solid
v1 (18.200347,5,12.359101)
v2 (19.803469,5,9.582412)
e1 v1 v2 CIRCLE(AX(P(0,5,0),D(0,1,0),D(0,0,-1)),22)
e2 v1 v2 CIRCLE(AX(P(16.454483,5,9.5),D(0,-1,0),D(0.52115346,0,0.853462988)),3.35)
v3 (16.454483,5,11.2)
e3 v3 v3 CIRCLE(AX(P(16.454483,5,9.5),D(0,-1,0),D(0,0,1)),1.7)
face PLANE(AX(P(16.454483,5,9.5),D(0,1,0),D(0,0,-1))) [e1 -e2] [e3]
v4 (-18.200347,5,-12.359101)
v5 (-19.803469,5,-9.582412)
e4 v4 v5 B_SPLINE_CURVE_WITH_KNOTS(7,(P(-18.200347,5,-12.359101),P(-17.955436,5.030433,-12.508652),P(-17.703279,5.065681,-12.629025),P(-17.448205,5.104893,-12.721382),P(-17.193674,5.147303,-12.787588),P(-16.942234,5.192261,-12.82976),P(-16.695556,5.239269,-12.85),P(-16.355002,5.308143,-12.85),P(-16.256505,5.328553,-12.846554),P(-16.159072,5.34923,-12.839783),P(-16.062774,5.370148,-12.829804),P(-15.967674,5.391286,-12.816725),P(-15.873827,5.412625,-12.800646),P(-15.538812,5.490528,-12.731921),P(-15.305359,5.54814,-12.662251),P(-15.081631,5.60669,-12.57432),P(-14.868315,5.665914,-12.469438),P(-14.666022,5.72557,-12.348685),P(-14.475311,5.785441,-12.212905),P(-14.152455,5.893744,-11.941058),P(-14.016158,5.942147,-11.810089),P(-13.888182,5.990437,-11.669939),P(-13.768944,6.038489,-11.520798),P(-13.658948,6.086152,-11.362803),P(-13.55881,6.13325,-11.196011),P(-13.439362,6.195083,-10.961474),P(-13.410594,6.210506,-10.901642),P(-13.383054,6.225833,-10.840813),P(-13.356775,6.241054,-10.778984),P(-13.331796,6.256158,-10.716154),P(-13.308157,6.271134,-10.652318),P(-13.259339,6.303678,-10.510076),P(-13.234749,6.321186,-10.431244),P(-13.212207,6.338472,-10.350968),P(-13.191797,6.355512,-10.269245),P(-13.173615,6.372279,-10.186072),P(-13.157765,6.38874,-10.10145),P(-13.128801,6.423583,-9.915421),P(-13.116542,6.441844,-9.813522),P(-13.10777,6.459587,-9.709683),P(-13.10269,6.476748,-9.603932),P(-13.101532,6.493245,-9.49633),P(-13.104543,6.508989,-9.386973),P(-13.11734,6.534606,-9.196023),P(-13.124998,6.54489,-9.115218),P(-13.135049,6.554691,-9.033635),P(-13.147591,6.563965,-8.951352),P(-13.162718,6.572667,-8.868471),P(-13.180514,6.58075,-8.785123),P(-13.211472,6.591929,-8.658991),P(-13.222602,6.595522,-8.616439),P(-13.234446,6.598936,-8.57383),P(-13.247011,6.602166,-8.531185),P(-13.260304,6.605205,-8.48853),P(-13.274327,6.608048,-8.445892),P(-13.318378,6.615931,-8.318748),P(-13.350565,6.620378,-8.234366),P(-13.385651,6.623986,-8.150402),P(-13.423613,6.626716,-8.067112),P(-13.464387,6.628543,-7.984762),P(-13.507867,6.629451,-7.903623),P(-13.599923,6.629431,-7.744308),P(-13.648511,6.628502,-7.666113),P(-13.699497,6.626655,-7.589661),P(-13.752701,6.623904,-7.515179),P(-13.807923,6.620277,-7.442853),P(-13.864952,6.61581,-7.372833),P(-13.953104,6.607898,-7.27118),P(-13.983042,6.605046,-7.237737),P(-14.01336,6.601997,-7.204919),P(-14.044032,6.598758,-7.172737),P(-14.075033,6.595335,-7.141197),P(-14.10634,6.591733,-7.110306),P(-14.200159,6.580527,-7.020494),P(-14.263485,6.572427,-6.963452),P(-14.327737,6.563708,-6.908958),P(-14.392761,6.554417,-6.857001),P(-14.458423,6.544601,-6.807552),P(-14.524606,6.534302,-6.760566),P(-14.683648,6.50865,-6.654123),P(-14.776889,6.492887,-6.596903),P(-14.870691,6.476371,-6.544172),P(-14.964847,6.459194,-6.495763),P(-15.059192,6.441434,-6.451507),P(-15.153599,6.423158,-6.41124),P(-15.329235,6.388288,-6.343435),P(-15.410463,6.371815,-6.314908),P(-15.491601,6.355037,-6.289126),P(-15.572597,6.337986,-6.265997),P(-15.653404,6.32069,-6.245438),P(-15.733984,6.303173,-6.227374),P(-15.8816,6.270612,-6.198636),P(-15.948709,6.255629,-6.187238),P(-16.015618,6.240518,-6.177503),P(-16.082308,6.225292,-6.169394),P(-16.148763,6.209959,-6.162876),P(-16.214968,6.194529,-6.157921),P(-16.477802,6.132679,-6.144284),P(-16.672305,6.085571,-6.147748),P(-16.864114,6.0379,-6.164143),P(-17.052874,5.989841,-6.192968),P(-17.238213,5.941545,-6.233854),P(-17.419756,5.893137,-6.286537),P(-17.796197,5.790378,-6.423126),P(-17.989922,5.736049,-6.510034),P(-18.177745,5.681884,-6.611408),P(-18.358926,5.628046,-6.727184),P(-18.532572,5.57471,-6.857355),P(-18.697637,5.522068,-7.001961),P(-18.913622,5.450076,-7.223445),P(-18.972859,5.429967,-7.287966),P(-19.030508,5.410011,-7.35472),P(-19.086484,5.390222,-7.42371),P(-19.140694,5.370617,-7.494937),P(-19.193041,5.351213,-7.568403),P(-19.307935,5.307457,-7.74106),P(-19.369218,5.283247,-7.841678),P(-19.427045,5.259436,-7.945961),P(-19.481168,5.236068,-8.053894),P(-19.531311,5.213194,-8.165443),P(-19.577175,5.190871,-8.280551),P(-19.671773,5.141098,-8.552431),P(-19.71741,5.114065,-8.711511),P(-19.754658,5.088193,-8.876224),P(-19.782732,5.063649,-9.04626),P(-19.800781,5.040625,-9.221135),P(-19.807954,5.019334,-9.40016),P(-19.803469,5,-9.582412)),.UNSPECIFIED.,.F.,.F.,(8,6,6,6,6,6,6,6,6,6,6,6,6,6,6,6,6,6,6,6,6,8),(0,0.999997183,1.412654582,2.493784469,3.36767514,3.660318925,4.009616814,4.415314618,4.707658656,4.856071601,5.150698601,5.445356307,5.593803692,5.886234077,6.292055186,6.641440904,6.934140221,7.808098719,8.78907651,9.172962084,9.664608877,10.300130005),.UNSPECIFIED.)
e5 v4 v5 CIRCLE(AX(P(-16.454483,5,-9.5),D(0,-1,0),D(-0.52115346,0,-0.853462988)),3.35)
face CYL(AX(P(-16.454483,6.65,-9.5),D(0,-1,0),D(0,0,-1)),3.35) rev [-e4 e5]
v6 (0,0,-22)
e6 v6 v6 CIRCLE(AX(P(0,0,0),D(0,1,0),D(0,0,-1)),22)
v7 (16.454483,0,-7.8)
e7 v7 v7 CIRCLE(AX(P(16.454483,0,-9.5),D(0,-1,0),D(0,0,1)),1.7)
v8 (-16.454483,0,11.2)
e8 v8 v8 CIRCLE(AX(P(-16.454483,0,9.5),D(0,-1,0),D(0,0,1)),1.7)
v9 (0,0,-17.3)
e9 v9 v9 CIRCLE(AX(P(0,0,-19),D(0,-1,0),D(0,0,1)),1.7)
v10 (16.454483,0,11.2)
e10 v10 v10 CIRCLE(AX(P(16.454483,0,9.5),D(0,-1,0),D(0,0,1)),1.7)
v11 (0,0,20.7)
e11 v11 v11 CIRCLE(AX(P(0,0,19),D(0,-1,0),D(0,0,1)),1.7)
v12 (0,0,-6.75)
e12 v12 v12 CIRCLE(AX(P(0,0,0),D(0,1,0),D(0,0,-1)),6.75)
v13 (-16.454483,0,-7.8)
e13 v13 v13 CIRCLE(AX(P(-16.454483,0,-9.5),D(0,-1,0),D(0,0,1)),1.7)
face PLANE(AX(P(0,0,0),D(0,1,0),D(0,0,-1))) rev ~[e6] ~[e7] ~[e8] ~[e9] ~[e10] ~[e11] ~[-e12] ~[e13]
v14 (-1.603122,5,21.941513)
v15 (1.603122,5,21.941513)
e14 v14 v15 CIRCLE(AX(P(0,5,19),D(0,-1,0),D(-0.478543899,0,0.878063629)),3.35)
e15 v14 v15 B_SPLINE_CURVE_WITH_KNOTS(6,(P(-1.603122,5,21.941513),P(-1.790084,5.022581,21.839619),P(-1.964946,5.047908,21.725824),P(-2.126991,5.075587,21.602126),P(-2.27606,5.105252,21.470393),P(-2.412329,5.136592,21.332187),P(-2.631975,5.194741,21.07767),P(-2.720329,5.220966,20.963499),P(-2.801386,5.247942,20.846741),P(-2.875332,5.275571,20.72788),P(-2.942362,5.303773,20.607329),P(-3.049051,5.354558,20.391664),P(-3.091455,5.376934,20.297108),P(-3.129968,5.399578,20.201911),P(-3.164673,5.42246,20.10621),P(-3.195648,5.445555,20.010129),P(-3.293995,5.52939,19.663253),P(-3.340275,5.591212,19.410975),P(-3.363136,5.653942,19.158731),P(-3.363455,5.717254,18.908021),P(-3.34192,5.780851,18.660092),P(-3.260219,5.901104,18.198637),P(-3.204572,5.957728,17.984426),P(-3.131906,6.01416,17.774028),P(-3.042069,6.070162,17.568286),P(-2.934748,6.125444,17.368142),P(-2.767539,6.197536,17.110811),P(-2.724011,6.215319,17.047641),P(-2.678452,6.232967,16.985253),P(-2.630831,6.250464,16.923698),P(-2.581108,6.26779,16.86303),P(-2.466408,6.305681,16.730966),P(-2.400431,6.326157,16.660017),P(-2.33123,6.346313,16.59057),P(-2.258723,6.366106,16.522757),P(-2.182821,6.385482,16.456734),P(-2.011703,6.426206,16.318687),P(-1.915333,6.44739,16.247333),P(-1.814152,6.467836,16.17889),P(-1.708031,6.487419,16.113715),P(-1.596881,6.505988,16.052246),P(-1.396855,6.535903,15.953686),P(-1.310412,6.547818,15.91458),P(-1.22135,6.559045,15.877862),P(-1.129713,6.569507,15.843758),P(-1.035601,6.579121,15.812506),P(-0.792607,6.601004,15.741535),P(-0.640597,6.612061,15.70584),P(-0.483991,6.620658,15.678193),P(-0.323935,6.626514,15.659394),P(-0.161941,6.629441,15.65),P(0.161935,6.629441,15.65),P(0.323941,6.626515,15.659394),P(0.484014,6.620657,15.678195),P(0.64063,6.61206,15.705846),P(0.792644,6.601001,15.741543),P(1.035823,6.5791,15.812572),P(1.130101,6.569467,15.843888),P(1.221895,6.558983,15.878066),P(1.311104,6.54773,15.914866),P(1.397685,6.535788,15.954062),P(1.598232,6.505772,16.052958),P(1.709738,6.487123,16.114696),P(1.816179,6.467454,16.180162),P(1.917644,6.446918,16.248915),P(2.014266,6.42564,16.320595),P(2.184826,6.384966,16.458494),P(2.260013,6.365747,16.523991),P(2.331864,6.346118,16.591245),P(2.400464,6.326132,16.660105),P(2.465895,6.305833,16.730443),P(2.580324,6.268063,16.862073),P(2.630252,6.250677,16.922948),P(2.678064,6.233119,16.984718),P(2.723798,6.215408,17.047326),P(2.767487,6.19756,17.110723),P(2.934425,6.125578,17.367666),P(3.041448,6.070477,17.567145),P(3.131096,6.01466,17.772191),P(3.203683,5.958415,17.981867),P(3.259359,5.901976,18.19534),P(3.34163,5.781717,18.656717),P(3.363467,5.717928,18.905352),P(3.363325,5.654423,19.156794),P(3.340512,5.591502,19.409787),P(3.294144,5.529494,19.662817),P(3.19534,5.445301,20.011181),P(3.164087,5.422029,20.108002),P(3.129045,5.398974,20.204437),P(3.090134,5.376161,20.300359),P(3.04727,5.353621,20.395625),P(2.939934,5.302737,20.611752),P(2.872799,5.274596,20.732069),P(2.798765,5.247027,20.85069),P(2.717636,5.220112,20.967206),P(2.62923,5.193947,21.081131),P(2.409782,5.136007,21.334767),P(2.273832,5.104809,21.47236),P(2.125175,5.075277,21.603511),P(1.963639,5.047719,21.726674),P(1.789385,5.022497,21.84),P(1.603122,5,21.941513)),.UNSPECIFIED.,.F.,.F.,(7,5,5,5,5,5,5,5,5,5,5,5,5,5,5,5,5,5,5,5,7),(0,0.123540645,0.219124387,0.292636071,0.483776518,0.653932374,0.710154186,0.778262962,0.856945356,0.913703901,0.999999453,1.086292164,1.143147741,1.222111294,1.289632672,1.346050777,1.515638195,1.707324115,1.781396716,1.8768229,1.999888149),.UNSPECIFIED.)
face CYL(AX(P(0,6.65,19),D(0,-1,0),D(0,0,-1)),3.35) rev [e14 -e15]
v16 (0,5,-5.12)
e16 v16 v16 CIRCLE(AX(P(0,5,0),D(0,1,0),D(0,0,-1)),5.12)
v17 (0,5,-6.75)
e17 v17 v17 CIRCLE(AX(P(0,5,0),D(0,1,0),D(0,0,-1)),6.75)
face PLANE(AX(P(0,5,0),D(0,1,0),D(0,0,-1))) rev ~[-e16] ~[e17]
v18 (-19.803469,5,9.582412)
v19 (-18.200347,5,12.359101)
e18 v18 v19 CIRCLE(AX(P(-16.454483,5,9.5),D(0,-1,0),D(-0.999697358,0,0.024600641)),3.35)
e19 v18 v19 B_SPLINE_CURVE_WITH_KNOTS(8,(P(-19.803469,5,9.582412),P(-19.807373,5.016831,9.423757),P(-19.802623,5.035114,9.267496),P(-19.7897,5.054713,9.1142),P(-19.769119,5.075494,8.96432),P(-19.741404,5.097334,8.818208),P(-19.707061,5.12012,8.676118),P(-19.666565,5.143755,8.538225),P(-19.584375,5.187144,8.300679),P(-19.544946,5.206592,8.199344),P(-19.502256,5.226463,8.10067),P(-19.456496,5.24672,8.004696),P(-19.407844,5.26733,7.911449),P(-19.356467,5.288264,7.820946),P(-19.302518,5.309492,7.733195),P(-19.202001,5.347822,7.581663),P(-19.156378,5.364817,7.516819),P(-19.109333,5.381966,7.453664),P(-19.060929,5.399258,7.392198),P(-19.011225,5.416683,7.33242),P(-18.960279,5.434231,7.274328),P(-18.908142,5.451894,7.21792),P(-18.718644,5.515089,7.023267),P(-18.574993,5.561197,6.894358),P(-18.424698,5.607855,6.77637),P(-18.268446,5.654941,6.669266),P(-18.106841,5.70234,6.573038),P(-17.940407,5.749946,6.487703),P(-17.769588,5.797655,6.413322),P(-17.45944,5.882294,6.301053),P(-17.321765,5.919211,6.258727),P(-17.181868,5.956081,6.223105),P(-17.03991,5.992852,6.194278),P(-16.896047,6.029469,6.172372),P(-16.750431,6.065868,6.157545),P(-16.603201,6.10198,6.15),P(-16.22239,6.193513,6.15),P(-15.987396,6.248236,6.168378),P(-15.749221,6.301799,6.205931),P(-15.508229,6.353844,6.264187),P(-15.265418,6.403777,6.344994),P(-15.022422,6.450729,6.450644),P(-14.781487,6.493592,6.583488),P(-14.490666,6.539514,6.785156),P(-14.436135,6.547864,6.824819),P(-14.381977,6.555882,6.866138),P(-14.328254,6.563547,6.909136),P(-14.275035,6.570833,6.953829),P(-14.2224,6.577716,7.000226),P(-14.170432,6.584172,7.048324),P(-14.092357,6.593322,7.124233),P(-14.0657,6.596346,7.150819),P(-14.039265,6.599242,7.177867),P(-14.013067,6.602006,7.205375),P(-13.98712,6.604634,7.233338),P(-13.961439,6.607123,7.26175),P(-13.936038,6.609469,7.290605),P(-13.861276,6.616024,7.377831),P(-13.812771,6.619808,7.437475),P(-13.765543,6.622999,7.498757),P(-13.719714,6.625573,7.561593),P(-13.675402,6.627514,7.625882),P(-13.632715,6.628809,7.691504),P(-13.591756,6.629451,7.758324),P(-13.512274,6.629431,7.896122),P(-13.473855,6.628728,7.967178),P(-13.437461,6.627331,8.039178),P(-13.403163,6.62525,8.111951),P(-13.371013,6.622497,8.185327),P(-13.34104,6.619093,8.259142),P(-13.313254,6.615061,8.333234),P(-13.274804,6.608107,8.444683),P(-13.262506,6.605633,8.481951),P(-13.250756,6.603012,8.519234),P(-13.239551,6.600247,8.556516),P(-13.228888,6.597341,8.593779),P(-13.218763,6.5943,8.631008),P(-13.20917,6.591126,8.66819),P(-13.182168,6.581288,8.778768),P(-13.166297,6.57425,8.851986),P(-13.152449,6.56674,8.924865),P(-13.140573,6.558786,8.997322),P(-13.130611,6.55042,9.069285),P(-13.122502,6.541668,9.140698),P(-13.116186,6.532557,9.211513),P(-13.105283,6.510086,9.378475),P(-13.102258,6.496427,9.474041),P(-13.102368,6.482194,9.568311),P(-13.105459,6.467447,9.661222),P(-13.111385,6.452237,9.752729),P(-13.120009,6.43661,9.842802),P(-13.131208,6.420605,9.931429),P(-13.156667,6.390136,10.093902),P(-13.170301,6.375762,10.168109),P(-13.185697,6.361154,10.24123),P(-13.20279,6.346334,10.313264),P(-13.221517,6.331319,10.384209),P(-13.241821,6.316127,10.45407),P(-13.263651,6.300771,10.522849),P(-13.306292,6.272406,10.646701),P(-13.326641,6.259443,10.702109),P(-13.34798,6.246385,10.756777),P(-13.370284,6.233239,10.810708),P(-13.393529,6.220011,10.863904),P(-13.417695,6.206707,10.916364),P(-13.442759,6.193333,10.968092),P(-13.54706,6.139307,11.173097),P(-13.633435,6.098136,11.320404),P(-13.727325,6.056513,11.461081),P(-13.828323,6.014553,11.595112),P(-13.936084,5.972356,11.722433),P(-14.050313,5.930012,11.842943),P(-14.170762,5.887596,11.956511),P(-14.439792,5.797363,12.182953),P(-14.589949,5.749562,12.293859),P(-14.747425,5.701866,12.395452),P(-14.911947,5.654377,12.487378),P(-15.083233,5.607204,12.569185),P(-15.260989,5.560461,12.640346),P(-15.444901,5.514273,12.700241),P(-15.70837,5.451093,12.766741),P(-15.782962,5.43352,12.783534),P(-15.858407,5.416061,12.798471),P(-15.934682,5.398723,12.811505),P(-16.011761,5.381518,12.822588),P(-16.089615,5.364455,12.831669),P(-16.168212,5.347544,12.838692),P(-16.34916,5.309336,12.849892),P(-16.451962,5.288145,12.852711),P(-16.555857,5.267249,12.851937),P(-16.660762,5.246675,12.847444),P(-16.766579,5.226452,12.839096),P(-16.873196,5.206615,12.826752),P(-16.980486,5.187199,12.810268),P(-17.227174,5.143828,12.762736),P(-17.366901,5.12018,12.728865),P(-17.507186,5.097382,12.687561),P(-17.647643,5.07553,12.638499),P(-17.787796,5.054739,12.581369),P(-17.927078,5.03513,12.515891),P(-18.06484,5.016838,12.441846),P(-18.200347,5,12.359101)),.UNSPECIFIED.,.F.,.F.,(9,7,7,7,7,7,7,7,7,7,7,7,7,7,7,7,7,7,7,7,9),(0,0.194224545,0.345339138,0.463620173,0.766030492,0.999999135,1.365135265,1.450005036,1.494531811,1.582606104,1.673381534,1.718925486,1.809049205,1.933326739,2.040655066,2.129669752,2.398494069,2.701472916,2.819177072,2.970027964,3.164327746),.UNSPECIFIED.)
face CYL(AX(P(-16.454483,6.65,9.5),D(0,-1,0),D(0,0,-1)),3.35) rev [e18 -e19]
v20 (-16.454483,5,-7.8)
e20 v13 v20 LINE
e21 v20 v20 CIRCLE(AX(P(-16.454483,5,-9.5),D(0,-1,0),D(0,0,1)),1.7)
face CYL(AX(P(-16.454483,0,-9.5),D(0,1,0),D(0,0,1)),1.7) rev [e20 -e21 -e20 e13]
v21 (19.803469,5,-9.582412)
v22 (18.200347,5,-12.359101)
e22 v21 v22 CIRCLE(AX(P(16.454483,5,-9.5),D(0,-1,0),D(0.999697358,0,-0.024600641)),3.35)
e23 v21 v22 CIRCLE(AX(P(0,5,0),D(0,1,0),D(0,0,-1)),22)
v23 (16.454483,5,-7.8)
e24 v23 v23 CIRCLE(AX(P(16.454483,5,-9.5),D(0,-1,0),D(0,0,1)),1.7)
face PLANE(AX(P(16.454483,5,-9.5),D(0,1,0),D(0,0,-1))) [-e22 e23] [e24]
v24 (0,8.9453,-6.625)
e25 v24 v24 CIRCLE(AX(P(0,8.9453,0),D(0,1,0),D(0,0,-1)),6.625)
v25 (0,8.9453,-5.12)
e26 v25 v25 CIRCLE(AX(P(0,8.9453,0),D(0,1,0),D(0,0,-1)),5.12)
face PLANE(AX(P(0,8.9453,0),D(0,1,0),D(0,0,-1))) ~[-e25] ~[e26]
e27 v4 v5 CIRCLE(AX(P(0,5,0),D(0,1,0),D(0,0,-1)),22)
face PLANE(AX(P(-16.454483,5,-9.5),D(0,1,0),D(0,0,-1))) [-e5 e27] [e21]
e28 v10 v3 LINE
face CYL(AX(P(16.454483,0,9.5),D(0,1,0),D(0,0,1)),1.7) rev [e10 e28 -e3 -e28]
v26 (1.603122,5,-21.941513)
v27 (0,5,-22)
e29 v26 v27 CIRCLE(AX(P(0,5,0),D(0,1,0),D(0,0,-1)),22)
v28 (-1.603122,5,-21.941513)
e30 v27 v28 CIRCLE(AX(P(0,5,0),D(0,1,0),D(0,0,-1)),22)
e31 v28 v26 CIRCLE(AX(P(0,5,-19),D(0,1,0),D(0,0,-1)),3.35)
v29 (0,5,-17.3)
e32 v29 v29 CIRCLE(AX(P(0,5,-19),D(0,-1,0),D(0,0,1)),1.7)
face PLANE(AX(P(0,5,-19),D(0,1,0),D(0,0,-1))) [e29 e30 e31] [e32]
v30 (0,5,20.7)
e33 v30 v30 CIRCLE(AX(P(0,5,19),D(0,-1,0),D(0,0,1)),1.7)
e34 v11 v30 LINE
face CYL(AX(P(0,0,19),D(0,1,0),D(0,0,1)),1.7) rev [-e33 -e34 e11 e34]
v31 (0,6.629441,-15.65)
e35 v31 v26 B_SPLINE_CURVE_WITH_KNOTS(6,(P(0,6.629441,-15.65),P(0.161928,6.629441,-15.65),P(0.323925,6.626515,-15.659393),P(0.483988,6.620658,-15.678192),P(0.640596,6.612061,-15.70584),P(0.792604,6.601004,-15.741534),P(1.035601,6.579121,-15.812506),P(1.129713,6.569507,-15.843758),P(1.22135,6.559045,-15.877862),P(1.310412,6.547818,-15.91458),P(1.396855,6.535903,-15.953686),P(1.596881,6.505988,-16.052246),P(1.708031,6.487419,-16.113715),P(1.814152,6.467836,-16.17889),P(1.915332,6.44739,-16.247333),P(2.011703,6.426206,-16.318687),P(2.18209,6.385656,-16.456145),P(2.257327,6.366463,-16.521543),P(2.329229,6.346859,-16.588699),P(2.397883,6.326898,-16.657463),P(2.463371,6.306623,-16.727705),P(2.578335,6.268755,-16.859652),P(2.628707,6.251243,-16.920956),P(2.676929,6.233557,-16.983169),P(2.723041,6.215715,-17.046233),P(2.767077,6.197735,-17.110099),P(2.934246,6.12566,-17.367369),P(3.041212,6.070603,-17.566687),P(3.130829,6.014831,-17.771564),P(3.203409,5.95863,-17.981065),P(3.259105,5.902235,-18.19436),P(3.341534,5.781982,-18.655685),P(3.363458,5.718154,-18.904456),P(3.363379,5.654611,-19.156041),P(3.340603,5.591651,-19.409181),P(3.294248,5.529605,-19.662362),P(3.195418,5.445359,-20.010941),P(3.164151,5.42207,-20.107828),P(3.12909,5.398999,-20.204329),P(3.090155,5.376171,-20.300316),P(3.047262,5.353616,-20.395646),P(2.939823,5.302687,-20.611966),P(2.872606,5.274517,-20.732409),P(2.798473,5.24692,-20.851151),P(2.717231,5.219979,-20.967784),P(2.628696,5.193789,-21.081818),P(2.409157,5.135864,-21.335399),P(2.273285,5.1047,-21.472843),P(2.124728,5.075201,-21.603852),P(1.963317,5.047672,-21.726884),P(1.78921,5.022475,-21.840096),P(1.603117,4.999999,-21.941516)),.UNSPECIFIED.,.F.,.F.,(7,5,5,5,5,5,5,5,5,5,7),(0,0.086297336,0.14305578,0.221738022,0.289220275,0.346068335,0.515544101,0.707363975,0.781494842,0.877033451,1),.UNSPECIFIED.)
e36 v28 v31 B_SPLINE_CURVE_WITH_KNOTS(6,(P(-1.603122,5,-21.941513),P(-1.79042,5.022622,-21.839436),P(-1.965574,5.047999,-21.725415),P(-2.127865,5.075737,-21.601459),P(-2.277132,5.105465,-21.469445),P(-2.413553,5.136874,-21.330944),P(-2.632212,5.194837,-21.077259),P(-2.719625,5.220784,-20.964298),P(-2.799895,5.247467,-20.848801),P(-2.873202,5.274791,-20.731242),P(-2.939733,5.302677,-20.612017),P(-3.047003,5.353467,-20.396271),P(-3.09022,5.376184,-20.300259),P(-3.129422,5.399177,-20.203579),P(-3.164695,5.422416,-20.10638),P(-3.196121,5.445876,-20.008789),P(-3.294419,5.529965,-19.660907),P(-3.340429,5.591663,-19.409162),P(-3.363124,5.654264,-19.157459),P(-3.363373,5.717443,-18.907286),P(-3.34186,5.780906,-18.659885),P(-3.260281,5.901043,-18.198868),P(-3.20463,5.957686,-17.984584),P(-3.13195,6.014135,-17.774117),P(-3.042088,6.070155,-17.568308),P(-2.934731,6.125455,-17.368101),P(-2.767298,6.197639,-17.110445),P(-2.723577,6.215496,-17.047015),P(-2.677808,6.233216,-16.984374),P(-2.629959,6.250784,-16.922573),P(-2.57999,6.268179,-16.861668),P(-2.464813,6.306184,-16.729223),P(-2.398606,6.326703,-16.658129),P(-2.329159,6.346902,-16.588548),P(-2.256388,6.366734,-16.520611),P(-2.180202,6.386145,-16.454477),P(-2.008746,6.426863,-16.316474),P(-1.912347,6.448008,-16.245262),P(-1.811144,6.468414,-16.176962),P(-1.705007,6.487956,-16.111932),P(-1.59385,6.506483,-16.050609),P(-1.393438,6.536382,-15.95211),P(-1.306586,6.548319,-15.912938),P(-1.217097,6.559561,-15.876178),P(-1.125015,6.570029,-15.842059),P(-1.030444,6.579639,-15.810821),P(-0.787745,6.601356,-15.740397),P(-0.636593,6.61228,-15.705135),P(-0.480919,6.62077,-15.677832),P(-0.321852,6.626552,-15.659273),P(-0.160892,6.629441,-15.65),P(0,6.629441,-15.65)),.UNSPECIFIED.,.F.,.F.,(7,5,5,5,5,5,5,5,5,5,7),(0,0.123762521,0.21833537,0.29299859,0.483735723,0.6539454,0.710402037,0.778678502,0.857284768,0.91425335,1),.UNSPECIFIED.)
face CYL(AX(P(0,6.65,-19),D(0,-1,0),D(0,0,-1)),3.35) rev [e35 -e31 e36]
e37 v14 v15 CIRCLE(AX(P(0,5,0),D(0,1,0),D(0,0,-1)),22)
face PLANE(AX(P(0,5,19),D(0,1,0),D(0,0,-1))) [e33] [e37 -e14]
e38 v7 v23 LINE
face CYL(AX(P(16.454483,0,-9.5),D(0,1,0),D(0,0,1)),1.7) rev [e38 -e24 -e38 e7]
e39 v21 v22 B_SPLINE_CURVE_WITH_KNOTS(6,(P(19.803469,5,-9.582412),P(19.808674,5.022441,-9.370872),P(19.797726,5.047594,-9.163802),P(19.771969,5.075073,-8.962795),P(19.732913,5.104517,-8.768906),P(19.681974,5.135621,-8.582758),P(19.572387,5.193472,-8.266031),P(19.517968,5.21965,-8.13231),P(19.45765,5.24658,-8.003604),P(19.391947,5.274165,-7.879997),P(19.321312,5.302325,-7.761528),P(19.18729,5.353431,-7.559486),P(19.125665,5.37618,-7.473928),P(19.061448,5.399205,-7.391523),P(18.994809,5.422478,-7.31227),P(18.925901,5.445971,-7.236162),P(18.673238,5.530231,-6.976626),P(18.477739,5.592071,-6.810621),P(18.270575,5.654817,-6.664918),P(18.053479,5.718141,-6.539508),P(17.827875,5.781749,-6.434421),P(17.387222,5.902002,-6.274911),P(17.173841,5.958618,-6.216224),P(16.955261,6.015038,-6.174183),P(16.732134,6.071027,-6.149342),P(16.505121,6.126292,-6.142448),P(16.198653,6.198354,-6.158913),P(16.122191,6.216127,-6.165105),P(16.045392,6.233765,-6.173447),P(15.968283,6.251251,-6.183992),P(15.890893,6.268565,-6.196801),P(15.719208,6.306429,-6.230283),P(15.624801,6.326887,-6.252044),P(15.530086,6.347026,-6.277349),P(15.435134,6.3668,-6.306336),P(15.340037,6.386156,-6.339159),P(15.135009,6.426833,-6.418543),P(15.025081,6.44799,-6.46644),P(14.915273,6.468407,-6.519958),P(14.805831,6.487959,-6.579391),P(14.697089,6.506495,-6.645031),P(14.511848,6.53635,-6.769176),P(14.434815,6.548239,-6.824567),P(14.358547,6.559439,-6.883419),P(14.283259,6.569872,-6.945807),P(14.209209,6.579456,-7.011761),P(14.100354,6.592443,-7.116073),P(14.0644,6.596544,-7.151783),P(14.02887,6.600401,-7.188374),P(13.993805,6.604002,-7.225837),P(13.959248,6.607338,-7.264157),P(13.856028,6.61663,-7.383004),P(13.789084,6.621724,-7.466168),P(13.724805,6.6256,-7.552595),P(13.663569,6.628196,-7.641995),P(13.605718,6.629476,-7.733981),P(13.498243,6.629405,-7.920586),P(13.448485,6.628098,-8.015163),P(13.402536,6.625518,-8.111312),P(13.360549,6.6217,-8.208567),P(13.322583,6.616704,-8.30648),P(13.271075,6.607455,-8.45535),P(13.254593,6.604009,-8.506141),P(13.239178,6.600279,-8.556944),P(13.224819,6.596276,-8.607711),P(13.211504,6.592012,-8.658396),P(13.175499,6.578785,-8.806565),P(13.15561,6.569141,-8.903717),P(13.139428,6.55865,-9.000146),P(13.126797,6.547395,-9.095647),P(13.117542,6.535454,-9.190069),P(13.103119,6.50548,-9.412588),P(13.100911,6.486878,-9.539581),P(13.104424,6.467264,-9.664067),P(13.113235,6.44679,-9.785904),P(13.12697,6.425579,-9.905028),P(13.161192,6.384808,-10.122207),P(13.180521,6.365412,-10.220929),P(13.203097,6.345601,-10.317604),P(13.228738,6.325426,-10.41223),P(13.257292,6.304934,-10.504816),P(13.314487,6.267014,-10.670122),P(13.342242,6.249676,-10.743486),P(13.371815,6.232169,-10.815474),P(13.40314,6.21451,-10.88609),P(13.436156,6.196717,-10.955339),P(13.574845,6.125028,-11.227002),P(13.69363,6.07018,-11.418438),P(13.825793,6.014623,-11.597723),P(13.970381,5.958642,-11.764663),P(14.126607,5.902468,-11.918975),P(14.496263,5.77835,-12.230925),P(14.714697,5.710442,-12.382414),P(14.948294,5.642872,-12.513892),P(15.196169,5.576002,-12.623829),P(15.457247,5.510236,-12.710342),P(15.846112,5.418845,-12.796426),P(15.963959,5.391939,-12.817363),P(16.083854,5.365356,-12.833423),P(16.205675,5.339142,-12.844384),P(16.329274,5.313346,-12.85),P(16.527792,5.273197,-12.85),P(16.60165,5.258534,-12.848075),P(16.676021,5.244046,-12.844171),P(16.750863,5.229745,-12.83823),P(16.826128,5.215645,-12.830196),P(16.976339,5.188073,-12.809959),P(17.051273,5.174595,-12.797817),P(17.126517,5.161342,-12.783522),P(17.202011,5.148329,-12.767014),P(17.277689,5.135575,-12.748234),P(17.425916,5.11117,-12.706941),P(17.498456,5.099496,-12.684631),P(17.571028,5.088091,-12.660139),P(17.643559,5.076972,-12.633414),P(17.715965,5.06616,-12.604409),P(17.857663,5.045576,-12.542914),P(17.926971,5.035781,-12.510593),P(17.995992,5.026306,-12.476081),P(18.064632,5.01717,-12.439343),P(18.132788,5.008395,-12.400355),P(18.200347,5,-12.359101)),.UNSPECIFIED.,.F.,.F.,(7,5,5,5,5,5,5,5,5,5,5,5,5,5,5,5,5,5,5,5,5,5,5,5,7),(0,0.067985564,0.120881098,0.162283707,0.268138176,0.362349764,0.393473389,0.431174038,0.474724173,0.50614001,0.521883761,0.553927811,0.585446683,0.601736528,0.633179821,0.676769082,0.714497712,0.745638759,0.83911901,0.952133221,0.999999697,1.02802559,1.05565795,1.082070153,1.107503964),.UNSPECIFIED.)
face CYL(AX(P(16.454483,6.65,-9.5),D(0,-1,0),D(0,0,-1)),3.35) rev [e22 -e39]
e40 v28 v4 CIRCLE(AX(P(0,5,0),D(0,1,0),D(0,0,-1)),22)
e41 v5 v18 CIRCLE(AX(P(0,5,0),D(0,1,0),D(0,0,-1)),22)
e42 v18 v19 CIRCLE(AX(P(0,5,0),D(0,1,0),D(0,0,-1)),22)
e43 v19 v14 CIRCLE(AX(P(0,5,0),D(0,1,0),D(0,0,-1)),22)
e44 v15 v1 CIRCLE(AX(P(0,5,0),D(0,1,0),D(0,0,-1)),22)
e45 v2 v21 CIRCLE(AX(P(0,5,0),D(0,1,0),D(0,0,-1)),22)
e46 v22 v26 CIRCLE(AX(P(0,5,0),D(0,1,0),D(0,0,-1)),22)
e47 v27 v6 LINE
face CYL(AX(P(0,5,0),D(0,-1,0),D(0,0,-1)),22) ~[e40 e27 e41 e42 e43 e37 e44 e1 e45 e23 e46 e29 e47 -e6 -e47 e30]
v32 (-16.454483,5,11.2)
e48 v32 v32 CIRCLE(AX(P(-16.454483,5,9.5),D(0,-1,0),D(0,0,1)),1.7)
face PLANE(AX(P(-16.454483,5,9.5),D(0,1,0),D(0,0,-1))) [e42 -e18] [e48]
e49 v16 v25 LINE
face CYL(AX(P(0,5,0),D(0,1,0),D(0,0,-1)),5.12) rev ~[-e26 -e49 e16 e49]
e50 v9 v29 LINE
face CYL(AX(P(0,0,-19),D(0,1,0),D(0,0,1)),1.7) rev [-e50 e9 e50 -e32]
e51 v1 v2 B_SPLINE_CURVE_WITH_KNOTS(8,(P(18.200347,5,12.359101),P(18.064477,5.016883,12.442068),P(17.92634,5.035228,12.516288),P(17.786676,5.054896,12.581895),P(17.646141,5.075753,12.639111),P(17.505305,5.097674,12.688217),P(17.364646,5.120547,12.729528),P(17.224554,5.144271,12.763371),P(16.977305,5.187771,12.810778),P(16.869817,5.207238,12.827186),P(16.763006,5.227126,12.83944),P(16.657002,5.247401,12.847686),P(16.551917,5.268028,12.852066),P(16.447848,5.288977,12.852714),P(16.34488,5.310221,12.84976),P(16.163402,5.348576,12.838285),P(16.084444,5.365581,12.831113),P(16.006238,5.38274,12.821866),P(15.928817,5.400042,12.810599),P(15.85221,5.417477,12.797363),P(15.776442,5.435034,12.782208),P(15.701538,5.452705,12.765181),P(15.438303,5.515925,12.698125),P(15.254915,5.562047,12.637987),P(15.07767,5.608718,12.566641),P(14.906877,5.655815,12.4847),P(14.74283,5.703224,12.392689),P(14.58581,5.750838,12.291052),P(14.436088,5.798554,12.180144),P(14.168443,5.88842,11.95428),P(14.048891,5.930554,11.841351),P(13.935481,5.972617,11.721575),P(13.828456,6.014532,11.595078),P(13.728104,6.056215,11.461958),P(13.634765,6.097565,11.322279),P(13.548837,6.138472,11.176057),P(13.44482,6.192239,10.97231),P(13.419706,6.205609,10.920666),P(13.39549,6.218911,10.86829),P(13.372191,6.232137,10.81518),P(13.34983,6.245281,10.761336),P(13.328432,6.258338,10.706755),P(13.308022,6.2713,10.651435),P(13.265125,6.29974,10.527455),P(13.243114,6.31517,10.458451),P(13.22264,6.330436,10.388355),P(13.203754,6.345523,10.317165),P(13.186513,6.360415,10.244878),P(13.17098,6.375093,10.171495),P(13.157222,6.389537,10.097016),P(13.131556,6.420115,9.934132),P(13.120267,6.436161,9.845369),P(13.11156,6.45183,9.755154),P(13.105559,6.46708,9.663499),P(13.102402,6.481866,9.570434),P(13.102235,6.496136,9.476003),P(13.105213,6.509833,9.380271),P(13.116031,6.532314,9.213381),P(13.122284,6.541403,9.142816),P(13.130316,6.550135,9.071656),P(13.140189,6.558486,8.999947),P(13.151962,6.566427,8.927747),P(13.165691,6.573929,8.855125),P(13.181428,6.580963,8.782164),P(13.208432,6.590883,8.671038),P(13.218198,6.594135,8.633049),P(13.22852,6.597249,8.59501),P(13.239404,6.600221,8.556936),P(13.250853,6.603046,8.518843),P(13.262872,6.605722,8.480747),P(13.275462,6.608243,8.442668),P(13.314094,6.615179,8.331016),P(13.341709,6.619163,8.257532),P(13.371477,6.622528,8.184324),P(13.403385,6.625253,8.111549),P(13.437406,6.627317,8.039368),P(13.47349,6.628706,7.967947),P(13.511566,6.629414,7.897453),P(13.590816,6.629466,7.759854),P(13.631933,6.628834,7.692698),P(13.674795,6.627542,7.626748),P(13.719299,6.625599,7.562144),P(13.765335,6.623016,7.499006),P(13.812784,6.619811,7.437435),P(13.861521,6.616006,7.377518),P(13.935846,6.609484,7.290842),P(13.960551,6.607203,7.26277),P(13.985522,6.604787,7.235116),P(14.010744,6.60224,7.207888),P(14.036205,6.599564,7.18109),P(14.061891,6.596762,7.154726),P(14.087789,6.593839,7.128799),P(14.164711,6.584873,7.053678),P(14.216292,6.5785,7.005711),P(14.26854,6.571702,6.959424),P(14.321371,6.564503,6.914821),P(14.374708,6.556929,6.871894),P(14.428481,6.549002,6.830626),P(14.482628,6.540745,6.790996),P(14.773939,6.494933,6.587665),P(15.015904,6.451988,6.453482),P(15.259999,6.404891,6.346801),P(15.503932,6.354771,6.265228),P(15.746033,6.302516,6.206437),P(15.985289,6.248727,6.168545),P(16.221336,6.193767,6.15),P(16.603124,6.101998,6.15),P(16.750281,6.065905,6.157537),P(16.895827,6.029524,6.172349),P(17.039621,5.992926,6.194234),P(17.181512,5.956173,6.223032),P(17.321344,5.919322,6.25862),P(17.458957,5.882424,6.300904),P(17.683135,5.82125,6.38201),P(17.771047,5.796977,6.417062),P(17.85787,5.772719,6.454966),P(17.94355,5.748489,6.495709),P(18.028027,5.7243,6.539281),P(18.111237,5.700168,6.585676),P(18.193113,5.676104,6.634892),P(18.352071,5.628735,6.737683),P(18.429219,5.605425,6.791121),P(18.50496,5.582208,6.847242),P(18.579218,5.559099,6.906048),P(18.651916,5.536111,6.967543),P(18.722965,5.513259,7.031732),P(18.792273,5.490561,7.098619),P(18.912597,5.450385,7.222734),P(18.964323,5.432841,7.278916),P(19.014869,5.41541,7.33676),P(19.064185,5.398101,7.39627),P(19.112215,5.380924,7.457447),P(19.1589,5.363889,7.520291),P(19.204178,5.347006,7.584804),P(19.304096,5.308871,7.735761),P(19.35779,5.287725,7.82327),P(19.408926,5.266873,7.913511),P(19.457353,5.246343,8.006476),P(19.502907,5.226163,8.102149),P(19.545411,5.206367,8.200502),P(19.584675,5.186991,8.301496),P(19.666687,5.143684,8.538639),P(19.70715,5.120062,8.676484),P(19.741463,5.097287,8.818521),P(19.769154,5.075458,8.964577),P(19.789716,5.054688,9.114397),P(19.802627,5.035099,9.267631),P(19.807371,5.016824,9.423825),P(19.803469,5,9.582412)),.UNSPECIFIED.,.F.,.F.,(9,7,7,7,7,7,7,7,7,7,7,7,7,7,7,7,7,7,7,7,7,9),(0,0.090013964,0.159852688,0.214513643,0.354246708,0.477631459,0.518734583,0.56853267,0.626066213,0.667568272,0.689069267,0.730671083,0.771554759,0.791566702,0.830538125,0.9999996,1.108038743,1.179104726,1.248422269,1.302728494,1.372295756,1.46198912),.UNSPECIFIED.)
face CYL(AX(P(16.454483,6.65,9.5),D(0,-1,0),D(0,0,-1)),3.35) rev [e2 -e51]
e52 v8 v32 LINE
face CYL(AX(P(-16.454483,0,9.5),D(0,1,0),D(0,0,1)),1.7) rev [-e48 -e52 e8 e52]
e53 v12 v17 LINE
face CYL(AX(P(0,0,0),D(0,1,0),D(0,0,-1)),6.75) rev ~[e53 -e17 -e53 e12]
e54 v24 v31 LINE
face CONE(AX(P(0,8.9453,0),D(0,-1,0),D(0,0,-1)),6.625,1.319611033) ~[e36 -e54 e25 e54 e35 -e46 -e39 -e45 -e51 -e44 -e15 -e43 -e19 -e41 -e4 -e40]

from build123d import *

# Parameters (mm, degrees)
M3_CLEARANCE_HOLE1_AT_2_COUNT  = 2
M3_CLEARANCE_HOLE1_AT_2_PITCH  = 19
M3_CLEARANCE_HOLE1_AT_3_COUNT  = 2
M3_CLEARANCE_HOLE1_AT_3_PITCH  = 32.908965344
M3_CLEARANCE_HOLE1_AT_4_COUNT  = 2
M3_CLEARANCE_HOLE1_AT_4_PITCH  = 38
M3_CLEARANCE_HOLE1_AT_5_COUNT  = 2
M3_CLEARANCE_HOLE1_AT_5_PITCH  = 32.908965344
M3_CLEARANCE_HOLE1_AT_6_COUNT  = 2
M3_CLEARANCE_HOLE1_AT_6_PITCH  = 19
M3_CLEARANCE_HOLE1_AT_7_COUNT  = 2
M3_CLEARANCE_HOLE1_AT_7_PITCH  = 19
CBORE_FOR_M3_SBHCS7_AT_2_COUNT = 2
CBORE_FOR_M3_SBHCS7_AT_2_PITCH = 19
CBORE_FOR_M3_SBHCS7_AT_3_COUNT = 2
CBORE_FOR_M3_SBHCS7_AT_3_PITCH = 32.908965344
CBORE_FOR_M3_SBHCS7_AT_4_COUNT = 2
CBORE_FOR_M3_SBHCS7_AT_4_PITCH = 38
CBORE_FOR_M3_SBHCS7_AT_5_COUNT = 2
CBORE_FOR_M3_SBHCS7_AT_5_PITCH = 32.908965344
CBORE_FOR_M3_SBHCS7_AT_6_COUNT = 2
CBORE_FOR_M3_SBHCS7_AT_6_PITCH = 19


with BuildPart() as part:
    # Sketch1 → Revolve1 (revolve)
    with BuildSketch(Plane.XY, mode=Mode.PRIVATE) as revolve1_sk:
        Polygon((5.12, 5), (5.12, 8.9453), (6.625, 8.9453), (22, 5), (22, 0), (6.75, 0), (6.75, 5), align=None)
    revolve(revolve1_sk.sketch.rotate(Axis((0, 0, 0), (0, 1, 0)), 90), axis=Axis((0, 0, 0), (0, 1, 0)))

    # Sketch3 → M3 Clearance Hole1 (revolve, cut)
    with BuildSketch(Plane(origin=(0, 5, -19), x_dir=(0, 0, 1), z_dir=(1, 0, 0))):
        Polygon((0, 0), (0, 6.021463052), (1.7, 5), (1.7, 0), align=None)
    m3_clearance_hole1 = revolve(axis=Axis((0, 11.35, -19), (0, -1, 0)), mode=Mode.SUBTRACT)

    # M3 Clearance Hole1 at 2: M3 Clearance Hole1 ×2
    with Locations(*[Vector(0.8660254037844387, 0, 0.49999999999999994) * (i * M3_CLEARANCE_HOLE1_AT_2_PITCH) for i in range(1, M3_CLEARANCE_HOLE1_AT_2_COUNT)]):
        add(m3_clearance_hole1, mode=Mode.SUBTRACT)

    # M3 Clearance Hole1 at 3: M3 Clearance Hole1 ×2
    with Locations(*[Vector(0.5000000000000001, 0, 0.8660254037844386) * (i * M3_CLEARANCE_HOLE1_AT_3_PITCH) for i in range(1, M3_CLEARANCE_HOLE1_AT_3_COUNT)]):
        add(m3_clearance_hole1, mode=Mode.SUBTRACT)

    # M3 Clearance Hole1 at 4: M3 Clearance Hole1 ×2
    with Locations(*[(0, 0, i * M3_CLEARANCE_HOLE1_AT_4_PITCH) for i in range(1, M3_CLEARANCE_HOLE1_AT_4_COUNT)]):
        add(m3_clearance_hole1, mode=Mode.SUBTRACT)

    # M3 Clearance Hole1 at 5: M3 Clearance Hole1 ×2
    with Locations(*[Vector(-0.49999999999999983, 0, 0.8660254037844388) * (i * M3_CLEARANCE_HOLE1_AT_5_PITCH) for i in range(1, M3_CLEARANCE_HOLE1_AT_5_COUNT)]):
        add(m3_clearance_hole1, mode=Mode.SUBTRACT)

    # M3 Clearance Hole1 at 6: M3 Clearance Hole1 ×2
    with Locations(*[Vector(-0.8660254037844387, 0, 0.4999999999999999) * (i * M3_CLEARANCE_HOLE1_AT_6_PITCH) for i in range(1, M3_CLEARANCE_HOLE1_AT_6_COUNT)]):
        add(m3_clearance_hole1, mode=Mode.SUBTRACT)

    # M3 Clearance Hole1 at 7: M3 Clearance Hole1 ×2
    with Locations(*[(0, 0, i * M3_CLEARANCE_HOLE1_AT_7_PITCH) for i in range(1, M3_CLEARANCE_HOLE1_AT_7_COUNT)]):
        add(m3_clearance_hole1, mode=Mode.SUBTRACT)

    # Sketch5 → CBORE for M3 SBHCS7 (revolve, cut)
    with BuildSketch(Plane(origin=(-16.454482672, 5, -9.5), x_dir=(0, 0, -1), z_dir=(1, 0, 0))):
        Polygon((0, 0), (0, 4.966763052), (1.7, 3.9453), (1.7, 1.65), (3.35, 1.65), (3.35, 0), align=None)
    cbore_for_m3_sbhcs7 = revolve(axis=Axis((-16.454482672, -1.35, -9.5), (0, 1, 0)), mode=Mode.SUBTRACT)

    # CBORE for M3 SBHCS7 at 2: CBORE for M3 SBHCS7 ×2
    with Locations(*[Vector(0.8660254037844387, 0, -0.4999999999999999) * (i * CBORE_FOR_M3_SBHCS7_AT_2_PITCH) for i in range(1, CBORE_FOR_M3_SBHCS7_AT_2_COUNT)]):
        add(cbore_for_m3_sbhcs7, mode=Mode.SUBTRACT)

    # CBORE for M3 SBHCS7 at 3: CBORE for M3 SBHCS7 ×2
    with Locations(*[(i * CBORE_FOR_M3_SBHCS7_AT_3_PITCH, 0, 0) for i in range(1, CBORE_FOR_M3_SBHCS7_AT_3_COUNT)]):
        add(cbore_for_m3_sbhcs7, mode=Mode.SUBTRACT)

    # CBORE for M3 SBHCS7 at 4: CBORE for M3 SBHCS7 ×2
    with Locations(*[Vector(0.8660254037844387, 0, 0.49999999999999994) * (i * CBORE_FOR_M3_SBHCS7_AT_4_PITCH) for i in range(1, CBORE_FOR_M3_SBHCS7_AT_4_COUNT)]):
        add(cbore_for_m3_sbhcs7, mode=Mode.SUBTRACT)

    # CBORE for M3 SBHCS7 at 5: CBORE for M3 SBHCS7 ×2
    with Locations(*[Vector(0.49999999999999994, 0, 0.8660254037844387) * (i * CBORE_FOR_M3_SBHCS7_AT_5_PITCH) for i in range(1, CBORE_FOR_M3_SBHCS7_AT_5_COUNT)]):
        add(cbore_for_m3_sbhcs7, mode=Mode.SUBTRACT)

    # CBORE for M3 SBHCS7 at 6: CBORE for M3 SBHCS7 ×2
    with Locations(*[(0, 0, i * CBORE_FOR_M3_SBHCS7_AT_6_PITCH) for i in range(1, CBORE_FOR_M3_SBHCS7_AT_6_COUNT)]):
        add(cbore_for_m3_sbhcs7, mode=Mode.SUBTRACT)


solid = part.part
